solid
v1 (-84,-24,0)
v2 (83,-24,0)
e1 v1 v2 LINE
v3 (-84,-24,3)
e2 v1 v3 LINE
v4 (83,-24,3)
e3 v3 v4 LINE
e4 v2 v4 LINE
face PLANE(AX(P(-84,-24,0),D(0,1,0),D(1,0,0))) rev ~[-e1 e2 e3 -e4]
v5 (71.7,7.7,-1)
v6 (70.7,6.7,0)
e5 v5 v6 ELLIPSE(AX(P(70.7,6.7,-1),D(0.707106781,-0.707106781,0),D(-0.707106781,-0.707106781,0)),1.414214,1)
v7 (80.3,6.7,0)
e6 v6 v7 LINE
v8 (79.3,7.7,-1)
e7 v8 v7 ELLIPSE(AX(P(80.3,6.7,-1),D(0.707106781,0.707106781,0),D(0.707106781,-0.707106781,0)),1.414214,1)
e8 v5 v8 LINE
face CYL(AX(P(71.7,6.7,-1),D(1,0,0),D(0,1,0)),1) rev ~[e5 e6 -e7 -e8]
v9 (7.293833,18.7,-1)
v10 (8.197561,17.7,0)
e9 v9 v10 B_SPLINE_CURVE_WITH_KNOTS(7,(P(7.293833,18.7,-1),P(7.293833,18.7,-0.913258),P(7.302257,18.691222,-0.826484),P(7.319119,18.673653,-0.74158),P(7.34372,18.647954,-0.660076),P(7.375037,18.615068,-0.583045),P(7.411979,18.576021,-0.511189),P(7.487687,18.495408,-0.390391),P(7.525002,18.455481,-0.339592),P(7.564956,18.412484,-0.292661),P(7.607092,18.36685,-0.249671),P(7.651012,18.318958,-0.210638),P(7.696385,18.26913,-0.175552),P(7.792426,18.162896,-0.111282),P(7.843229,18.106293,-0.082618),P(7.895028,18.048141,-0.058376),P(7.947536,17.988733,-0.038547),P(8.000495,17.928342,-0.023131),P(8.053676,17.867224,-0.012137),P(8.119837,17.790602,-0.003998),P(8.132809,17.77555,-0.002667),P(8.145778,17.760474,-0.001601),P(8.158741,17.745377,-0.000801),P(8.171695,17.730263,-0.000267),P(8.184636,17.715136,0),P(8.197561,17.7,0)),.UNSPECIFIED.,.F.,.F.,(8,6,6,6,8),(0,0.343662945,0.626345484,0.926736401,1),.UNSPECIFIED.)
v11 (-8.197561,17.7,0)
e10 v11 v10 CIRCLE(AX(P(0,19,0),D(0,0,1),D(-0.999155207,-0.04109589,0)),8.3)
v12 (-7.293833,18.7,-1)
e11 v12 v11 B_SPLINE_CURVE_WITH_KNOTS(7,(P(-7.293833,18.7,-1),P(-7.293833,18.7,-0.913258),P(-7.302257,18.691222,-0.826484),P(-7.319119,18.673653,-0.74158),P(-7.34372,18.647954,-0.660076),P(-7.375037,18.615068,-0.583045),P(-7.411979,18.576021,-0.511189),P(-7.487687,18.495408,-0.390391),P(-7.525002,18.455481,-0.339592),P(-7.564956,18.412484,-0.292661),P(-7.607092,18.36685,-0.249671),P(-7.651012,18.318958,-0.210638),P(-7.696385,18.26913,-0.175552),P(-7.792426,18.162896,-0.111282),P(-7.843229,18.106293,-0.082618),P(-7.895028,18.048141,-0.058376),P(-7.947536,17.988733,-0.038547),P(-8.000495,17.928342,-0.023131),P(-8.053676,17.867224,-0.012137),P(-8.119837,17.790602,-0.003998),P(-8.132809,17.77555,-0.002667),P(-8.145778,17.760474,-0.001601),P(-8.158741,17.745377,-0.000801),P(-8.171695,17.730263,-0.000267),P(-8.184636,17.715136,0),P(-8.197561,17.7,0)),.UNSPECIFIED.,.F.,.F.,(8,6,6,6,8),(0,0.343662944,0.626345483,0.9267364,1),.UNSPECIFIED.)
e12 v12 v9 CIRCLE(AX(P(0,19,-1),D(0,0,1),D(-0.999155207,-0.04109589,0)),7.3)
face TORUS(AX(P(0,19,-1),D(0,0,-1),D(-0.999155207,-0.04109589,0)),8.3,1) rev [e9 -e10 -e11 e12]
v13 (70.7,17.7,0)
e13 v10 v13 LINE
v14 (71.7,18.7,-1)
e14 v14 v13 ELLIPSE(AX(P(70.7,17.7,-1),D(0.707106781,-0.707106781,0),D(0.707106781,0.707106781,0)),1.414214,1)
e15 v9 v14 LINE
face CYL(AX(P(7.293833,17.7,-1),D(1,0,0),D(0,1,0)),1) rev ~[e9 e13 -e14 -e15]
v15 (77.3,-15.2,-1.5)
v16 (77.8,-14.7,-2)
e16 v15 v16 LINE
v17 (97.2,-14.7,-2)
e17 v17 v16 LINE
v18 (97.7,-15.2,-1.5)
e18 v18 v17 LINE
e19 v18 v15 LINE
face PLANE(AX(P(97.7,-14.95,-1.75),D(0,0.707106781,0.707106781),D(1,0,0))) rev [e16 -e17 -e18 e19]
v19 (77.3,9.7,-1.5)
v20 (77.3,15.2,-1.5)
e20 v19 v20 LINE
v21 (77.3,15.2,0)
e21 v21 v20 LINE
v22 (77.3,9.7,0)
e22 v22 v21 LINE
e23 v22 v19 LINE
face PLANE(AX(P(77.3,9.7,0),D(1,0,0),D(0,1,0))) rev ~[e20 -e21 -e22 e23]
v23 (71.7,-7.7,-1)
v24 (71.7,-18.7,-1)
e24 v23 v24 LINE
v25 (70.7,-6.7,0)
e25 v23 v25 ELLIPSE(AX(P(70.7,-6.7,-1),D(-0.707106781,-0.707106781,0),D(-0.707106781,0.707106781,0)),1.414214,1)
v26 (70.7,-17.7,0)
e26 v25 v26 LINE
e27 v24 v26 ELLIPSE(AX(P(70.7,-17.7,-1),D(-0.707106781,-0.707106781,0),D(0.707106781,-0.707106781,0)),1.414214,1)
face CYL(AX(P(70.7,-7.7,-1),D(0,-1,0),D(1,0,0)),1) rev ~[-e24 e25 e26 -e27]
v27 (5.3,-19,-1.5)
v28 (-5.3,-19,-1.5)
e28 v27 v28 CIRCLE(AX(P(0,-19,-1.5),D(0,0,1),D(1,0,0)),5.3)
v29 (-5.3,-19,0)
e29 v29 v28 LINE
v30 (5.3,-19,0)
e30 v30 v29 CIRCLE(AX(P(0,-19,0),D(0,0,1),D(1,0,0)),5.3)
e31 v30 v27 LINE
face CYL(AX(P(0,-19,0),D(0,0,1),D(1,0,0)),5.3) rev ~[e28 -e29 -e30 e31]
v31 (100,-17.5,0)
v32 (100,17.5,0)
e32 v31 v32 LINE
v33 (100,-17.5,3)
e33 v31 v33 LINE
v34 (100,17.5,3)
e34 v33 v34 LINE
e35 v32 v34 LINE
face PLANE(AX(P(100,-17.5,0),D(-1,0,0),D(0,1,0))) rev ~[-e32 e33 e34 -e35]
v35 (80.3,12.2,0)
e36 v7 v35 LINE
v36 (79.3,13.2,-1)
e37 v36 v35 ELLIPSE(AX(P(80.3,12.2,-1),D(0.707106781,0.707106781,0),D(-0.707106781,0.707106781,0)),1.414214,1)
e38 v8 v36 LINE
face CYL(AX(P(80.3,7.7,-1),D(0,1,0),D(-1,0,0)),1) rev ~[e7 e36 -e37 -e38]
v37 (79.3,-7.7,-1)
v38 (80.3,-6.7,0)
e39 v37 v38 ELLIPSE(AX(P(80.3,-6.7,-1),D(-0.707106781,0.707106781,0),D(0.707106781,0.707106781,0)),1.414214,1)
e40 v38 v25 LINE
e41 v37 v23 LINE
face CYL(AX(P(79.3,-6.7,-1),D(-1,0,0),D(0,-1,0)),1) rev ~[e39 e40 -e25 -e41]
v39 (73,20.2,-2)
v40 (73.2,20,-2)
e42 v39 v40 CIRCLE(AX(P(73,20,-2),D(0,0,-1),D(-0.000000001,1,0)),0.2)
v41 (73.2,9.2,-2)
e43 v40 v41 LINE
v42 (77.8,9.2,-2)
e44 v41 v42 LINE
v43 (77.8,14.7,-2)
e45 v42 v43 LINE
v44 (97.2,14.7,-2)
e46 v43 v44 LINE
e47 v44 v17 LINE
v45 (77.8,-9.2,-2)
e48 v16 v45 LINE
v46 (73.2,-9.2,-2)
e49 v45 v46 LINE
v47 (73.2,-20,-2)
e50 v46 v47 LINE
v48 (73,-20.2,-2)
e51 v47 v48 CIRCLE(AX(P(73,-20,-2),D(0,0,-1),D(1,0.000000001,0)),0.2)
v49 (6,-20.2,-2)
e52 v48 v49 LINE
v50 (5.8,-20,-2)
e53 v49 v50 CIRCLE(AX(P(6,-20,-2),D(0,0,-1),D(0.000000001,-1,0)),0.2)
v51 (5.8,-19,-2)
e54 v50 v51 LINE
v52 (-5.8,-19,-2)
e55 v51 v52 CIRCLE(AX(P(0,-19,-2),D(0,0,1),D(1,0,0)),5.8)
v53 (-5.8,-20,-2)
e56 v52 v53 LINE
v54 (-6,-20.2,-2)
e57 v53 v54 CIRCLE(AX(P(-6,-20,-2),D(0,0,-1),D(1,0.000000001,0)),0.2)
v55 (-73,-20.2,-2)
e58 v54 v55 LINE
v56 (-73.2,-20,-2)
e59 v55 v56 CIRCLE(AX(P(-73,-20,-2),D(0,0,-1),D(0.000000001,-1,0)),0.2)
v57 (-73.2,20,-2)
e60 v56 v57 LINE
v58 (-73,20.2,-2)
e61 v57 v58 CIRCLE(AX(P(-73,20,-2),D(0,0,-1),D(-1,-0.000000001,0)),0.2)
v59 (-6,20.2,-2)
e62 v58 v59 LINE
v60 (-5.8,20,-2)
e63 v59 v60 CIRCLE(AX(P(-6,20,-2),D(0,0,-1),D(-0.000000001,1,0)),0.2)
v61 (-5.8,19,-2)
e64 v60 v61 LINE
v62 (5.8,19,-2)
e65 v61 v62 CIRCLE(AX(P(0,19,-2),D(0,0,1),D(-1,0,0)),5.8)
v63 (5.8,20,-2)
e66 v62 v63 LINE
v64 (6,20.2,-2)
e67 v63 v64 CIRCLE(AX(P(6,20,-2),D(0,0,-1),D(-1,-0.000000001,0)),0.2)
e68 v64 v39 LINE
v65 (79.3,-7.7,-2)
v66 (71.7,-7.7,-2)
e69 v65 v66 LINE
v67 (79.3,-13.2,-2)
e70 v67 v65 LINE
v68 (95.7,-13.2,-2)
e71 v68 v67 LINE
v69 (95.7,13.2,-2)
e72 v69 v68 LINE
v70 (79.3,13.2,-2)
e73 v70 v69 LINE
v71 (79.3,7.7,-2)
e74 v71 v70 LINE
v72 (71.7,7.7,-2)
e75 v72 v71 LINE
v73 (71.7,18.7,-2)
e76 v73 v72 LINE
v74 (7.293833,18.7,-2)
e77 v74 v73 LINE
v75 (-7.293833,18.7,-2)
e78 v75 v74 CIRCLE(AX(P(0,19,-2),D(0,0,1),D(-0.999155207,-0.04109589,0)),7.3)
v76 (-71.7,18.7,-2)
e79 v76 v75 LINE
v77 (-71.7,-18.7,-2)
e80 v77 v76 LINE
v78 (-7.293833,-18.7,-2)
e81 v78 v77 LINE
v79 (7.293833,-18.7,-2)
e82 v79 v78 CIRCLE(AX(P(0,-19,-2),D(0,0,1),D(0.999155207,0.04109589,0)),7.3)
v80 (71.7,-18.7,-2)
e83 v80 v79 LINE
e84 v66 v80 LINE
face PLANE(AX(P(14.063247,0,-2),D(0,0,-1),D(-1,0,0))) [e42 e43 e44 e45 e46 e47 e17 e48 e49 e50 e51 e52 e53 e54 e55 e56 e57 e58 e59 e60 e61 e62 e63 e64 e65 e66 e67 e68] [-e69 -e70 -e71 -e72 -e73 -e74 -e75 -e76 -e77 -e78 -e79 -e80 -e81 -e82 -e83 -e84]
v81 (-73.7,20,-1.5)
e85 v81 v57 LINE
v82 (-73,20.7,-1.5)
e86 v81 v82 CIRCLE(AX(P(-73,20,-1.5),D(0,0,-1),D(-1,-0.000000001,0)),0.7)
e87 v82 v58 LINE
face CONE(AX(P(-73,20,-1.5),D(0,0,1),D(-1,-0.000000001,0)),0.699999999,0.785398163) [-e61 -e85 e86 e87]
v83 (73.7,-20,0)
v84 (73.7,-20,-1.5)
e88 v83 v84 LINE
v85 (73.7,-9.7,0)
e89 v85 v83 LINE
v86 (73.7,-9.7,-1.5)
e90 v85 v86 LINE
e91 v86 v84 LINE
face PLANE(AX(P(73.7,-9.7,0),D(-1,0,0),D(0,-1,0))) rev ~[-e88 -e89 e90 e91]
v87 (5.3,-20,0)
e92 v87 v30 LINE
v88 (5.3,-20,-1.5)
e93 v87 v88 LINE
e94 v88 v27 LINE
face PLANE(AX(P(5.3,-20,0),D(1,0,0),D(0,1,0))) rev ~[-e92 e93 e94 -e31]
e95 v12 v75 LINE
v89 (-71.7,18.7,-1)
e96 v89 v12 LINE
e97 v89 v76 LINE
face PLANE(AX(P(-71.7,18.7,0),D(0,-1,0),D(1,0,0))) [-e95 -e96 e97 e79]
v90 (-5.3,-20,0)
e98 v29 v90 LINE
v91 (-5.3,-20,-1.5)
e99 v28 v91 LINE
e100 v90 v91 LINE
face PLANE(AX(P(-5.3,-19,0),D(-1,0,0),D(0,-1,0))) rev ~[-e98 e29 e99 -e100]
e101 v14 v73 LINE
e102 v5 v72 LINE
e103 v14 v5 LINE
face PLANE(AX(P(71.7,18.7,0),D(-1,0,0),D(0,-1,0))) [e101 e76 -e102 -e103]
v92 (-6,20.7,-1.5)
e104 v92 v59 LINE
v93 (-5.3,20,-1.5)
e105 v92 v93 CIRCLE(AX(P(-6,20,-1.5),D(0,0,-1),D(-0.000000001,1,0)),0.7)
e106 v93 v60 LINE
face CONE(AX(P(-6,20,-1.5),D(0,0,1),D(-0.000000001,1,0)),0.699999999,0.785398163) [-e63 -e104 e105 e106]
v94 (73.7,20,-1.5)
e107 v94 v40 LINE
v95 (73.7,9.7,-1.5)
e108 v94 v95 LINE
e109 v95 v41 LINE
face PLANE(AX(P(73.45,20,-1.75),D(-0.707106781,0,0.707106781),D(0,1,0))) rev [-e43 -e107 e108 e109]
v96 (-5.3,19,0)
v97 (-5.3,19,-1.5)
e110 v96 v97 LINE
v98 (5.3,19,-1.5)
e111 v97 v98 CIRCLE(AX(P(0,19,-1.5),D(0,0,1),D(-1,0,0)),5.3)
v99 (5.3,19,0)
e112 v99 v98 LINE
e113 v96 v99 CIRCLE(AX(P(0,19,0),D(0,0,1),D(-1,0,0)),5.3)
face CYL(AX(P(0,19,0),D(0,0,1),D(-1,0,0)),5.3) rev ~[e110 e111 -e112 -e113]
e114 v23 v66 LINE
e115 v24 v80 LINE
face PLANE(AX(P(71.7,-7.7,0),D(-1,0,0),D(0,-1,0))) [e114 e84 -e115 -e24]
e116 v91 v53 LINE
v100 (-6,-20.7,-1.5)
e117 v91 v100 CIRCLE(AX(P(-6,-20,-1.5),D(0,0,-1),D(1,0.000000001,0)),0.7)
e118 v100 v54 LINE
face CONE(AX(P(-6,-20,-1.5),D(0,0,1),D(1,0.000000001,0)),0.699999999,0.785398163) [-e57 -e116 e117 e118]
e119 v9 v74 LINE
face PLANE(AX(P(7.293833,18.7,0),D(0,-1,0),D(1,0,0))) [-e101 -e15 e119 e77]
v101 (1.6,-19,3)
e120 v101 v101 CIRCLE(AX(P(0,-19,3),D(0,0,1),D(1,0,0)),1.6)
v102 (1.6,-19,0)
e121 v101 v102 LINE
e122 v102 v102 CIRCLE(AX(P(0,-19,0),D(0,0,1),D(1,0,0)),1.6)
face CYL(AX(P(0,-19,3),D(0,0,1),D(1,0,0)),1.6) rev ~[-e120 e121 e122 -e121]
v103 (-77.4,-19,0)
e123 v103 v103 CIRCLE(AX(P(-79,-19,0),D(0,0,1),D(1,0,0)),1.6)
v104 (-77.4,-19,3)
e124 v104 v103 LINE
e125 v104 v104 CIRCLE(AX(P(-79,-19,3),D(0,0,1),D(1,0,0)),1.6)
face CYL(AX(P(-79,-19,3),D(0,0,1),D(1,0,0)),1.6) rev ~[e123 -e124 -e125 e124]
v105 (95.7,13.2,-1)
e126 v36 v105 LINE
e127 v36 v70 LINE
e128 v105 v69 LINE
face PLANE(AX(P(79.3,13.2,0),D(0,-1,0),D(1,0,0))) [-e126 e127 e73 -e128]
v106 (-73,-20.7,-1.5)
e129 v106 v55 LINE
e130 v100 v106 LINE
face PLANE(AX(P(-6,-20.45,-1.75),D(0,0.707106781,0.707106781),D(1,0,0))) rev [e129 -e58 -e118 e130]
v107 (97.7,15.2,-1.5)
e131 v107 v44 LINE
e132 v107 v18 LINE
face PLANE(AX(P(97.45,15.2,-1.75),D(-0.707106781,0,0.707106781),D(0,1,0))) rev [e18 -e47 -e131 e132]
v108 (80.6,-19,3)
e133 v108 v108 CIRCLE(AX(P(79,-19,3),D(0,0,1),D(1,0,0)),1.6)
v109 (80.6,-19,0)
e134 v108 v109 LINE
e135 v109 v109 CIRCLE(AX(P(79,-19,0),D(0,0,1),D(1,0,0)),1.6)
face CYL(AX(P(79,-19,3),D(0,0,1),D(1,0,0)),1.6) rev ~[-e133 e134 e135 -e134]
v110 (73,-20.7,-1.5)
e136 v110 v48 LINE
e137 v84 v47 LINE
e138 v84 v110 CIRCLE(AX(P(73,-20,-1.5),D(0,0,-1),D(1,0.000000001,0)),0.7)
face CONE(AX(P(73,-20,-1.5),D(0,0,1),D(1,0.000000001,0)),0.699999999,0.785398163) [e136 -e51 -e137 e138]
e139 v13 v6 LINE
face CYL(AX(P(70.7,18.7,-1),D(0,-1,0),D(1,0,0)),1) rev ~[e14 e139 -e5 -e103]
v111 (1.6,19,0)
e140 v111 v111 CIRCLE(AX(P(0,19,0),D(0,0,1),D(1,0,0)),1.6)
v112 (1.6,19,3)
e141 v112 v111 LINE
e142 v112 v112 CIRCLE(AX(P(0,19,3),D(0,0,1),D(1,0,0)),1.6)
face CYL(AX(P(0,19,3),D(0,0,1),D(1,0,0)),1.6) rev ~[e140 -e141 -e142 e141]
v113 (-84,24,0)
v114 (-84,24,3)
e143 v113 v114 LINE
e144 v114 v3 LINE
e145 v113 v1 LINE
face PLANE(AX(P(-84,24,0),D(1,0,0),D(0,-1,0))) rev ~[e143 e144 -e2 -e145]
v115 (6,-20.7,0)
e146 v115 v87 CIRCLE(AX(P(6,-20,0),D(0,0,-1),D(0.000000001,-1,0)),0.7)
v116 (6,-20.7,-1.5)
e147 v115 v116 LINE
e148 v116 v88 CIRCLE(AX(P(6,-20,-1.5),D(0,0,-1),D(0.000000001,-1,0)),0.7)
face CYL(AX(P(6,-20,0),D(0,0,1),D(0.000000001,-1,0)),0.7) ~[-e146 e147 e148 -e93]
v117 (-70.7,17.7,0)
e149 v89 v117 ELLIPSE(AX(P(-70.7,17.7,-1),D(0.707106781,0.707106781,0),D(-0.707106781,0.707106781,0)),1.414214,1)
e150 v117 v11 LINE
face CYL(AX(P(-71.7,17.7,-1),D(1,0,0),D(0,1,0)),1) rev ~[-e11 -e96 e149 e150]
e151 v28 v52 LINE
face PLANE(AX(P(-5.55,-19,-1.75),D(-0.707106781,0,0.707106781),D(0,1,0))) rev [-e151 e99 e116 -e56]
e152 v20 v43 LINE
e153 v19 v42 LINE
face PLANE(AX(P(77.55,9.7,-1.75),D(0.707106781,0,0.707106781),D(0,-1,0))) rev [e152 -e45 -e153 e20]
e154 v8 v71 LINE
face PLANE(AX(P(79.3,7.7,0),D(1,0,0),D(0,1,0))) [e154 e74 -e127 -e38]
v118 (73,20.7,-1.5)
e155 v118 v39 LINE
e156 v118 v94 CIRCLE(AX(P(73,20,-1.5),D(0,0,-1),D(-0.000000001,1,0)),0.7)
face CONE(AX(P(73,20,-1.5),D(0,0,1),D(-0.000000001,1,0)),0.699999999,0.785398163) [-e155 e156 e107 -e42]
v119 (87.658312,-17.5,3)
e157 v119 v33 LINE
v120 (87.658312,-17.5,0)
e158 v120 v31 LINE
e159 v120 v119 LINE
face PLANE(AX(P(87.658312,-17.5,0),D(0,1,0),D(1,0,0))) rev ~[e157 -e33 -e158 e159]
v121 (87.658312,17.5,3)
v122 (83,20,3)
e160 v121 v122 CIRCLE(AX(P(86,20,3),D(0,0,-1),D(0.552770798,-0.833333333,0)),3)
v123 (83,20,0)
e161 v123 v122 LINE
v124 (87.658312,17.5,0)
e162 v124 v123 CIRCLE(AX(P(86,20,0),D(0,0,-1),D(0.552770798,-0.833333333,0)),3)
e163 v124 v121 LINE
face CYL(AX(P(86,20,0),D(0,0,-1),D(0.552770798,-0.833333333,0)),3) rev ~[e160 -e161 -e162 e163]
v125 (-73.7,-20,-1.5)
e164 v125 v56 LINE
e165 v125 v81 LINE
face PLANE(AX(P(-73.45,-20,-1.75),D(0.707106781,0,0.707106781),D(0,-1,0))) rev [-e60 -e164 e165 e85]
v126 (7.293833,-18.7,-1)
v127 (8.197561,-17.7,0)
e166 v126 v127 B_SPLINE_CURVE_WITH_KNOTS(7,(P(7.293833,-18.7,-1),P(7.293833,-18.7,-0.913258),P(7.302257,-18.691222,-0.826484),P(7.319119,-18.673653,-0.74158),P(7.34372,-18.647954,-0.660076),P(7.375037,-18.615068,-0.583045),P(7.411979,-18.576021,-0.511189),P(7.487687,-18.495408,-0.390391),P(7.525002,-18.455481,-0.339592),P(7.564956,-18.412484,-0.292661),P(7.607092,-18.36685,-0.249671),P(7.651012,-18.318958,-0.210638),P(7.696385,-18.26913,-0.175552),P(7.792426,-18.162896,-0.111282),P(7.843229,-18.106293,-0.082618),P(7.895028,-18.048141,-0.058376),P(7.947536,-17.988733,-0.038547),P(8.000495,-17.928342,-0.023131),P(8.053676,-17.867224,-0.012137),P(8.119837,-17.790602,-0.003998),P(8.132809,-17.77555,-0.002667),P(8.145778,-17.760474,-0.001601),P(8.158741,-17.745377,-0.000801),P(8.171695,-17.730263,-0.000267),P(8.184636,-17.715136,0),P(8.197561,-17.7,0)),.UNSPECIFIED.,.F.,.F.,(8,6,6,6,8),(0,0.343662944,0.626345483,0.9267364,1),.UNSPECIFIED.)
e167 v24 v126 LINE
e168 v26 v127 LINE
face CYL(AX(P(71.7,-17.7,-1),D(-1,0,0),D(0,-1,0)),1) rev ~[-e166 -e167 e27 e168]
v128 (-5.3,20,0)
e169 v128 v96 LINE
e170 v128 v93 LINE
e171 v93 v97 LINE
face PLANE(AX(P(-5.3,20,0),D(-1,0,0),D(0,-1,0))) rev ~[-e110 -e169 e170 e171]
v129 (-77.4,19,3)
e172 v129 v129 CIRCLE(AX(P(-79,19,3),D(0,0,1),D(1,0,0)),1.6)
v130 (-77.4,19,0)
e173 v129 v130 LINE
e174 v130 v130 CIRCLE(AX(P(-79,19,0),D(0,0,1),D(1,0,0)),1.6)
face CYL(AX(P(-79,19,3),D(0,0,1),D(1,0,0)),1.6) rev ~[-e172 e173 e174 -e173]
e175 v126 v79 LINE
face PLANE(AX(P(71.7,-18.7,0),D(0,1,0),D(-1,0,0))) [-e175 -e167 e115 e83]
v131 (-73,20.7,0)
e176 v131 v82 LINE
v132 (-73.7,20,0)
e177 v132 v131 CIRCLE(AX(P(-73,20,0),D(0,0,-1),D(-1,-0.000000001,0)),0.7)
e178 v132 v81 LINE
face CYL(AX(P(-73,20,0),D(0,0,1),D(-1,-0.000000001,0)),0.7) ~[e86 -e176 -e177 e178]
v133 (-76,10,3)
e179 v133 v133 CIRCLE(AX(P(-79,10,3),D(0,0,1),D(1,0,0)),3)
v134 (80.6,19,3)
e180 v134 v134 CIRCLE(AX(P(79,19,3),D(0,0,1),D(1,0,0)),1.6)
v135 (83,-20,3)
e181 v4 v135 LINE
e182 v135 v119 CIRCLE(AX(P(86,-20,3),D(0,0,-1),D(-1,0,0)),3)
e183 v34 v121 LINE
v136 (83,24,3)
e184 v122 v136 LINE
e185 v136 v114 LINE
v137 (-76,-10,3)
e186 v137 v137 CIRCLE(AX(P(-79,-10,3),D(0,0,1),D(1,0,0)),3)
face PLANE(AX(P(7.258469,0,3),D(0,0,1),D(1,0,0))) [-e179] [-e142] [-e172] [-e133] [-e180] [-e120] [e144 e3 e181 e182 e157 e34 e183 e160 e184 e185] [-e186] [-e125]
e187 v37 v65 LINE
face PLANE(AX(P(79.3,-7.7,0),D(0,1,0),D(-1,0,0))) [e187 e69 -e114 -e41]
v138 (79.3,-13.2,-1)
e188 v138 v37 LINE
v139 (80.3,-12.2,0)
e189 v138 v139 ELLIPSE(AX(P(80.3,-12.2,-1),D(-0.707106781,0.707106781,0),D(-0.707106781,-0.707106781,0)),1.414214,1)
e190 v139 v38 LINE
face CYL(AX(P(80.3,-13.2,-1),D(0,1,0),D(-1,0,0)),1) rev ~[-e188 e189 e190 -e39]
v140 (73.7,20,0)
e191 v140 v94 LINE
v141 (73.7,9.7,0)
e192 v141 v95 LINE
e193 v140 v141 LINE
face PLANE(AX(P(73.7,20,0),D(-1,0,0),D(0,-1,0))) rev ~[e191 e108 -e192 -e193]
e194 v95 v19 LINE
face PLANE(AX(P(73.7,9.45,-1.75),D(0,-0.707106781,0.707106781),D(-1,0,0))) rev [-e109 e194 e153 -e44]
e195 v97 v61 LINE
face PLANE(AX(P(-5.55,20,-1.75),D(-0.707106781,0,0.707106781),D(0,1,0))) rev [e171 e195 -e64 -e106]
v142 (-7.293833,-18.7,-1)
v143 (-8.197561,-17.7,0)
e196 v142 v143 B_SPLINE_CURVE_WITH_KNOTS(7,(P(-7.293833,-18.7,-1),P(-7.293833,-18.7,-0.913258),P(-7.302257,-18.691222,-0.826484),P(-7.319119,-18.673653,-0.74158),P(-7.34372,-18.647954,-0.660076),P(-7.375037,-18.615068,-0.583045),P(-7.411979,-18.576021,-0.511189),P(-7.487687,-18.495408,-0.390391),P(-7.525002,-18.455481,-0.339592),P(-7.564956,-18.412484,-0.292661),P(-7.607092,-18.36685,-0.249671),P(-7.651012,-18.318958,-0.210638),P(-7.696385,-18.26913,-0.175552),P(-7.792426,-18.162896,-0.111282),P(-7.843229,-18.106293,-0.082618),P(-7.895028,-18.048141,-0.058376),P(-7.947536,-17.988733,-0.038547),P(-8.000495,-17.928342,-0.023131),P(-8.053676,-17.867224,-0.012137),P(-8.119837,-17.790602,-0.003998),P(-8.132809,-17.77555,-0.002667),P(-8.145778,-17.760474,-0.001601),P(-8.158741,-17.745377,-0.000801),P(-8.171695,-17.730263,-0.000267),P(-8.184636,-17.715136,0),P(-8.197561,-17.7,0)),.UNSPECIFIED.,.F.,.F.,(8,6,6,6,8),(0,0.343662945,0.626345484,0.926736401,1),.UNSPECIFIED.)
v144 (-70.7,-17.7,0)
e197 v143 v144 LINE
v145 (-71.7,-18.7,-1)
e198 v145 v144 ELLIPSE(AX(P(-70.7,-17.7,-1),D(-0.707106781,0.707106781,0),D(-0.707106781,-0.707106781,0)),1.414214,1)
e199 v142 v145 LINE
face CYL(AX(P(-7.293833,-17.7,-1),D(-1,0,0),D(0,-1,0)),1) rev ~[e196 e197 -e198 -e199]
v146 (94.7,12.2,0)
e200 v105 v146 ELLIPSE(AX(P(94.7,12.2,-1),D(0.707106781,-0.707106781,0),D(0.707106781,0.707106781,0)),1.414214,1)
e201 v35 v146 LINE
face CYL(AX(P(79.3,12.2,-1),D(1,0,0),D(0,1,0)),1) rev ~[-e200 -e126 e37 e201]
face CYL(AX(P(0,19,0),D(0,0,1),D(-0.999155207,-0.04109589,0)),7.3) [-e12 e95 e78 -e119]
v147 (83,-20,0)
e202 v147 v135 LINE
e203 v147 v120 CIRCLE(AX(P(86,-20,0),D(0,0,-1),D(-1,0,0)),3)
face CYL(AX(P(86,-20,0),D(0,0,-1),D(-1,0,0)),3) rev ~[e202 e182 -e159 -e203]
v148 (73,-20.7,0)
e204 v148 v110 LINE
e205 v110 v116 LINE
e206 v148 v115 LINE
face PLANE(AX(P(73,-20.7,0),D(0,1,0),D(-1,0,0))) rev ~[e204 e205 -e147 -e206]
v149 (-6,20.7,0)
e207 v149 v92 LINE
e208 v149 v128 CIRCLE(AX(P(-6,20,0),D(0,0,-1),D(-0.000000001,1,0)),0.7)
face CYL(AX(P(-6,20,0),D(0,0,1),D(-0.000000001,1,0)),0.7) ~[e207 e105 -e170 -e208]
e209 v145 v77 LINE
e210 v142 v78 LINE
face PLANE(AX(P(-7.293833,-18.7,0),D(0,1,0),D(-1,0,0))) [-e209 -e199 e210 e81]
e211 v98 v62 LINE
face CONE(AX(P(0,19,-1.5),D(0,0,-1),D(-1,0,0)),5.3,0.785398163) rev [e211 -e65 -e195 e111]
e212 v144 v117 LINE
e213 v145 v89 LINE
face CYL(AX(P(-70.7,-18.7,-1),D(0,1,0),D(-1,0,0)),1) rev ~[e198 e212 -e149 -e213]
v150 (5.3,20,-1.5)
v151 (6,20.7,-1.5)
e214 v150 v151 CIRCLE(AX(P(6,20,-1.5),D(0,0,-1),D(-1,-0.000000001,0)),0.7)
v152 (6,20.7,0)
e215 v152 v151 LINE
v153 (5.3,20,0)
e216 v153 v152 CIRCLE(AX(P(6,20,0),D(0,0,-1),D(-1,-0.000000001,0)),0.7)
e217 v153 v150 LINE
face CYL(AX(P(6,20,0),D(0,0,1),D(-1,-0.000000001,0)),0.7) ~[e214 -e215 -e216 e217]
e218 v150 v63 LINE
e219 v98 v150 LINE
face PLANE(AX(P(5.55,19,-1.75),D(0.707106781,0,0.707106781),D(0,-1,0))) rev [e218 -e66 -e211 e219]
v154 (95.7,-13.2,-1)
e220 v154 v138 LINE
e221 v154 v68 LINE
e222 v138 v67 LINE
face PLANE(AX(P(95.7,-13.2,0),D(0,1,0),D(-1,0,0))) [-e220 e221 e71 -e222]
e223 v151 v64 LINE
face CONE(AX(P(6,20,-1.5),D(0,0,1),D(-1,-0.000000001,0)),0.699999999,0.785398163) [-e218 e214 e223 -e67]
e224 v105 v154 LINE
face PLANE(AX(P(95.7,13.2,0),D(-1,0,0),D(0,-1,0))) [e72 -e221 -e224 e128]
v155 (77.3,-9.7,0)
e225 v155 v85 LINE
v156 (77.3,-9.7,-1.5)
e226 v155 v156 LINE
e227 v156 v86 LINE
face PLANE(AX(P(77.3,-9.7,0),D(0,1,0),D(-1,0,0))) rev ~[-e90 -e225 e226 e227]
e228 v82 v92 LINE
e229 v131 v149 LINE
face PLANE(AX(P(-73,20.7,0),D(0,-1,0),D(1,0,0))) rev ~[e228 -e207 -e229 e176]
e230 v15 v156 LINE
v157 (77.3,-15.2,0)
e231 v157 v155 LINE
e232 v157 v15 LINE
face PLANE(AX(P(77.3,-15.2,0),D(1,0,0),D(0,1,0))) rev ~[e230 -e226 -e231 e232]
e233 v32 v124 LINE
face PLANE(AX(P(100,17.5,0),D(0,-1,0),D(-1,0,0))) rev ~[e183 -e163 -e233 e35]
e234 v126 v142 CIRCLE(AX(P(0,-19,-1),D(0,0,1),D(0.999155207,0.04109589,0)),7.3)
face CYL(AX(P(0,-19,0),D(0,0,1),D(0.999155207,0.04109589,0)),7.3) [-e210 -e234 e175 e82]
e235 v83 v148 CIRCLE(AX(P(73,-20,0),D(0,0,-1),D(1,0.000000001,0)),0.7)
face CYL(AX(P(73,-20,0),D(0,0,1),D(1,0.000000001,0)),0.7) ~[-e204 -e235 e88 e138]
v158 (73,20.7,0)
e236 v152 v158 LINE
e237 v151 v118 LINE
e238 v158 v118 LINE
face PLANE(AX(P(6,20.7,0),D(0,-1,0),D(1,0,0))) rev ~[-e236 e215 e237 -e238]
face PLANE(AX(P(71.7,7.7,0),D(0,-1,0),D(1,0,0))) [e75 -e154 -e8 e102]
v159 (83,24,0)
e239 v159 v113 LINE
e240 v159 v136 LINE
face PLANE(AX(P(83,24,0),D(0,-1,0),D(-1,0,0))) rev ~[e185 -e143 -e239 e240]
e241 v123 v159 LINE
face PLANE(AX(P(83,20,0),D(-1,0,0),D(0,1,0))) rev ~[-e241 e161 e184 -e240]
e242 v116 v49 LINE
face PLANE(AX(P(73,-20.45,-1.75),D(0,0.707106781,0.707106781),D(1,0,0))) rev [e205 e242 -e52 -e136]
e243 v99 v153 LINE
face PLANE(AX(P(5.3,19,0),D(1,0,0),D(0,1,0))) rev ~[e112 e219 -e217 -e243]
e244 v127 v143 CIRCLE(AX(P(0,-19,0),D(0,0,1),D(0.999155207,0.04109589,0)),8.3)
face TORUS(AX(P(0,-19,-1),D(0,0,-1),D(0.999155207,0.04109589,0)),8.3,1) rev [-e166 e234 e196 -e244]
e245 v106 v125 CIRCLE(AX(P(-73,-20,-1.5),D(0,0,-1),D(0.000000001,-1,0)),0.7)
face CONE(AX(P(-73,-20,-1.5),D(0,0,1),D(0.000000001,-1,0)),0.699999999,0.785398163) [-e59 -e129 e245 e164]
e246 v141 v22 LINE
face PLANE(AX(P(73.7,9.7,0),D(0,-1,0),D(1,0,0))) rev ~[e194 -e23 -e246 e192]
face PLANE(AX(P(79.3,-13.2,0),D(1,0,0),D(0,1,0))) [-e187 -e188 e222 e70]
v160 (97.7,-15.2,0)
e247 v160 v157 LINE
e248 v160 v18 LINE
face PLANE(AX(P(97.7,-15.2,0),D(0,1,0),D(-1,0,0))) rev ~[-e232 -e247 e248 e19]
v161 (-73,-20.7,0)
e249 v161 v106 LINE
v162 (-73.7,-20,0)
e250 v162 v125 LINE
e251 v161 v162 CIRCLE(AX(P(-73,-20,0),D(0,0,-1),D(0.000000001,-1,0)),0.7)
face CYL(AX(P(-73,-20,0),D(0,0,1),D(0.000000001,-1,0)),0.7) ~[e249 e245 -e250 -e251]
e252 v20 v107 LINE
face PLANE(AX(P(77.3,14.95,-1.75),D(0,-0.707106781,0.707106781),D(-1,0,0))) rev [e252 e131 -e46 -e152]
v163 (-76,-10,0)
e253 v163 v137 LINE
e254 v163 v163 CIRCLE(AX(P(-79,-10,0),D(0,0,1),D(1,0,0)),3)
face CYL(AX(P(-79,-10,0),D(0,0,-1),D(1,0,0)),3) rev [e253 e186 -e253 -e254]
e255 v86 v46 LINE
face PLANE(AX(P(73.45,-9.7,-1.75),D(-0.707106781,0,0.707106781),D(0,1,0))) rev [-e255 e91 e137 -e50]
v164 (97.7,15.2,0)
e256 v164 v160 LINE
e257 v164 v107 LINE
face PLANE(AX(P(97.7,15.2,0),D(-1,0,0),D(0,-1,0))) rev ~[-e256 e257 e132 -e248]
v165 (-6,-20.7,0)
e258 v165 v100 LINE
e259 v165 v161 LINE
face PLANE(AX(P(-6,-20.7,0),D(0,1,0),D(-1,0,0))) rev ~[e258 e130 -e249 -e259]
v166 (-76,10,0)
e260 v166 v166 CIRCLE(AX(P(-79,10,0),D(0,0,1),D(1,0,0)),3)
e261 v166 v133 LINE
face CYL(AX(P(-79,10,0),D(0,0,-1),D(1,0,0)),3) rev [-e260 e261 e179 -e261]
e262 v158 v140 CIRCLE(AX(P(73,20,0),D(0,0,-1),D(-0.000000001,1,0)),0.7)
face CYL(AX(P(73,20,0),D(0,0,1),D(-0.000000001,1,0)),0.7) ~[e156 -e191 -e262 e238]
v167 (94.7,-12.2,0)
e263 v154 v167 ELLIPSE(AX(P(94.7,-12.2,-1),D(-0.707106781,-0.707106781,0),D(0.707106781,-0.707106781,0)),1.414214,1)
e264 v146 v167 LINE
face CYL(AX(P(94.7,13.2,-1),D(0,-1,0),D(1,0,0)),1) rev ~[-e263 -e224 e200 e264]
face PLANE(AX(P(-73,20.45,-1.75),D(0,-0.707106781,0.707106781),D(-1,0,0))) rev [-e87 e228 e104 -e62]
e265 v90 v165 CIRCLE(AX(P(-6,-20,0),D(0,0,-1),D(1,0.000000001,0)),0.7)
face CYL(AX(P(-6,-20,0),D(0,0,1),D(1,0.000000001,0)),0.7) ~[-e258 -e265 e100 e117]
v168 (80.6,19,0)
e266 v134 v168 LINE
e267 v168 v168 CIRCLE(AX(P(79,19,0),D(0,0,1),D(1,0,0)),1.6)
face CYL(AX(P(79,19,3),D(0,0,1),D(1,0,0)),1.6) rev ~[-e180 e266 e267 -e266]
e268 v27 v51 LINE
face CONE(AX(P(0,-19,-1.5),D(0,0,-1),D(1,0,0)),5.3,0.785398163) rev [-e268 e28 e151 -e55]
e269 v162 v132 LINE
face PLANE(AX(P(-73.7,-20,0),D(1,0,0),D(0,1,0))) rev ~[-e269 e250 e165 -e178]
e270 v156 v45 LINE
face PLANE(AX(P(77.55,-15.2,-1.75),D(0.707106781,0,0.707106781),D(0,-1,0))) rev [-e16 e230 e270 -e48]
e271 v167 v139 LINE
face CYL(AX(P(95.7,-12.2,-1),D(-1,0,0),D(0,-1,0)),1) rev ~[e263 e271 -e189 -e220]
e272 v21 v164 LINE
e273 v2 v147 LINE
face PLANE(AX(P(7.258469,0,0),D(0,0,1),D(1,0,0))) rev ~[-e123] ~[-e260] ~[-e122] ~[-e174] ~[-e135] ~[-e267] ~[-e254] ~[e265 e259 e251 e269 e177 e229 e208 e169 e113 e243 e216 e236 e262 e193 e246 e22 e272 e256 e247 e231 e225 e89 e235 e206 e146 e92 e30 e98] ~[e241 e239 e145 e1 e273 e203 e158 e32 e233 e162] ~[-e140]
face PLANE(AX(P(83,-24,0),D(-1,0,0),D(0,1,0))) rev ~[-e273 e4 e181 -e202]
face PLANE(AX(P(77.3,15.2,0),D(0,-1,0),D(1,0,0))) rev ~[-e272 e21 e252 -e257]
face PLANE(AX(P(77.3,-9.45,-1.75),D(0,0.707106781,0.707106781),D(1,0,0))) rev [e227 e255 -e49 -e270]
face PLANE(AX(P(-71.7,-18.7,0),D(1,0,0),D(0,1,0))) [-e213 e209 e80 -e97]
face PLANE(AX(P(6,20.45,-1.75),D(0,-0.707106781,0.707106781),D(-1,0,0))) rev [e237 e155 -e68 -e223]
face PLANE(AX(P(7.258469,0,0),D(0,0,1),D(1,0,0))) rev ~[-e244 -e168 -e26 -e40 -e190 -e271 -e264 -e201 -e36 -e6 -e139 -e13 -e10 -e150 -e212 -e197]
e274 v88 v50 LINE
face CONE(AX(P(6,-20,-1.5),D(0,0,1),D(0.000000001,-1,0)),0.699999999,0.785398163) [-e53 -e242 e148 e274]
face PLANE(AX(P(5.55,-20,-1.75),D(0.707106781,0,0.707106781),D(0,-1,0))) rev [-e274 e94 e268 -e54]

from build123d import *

# Parameters (mm, degrees)
SKETCH1_R           = 3
BOSS_EXTRUDE1_DEPTH = 3
BOSS_EXTRUDE2_DEPTH = 2
CHAMFER1_SIZE       = 0.5
FILLET1_R           = 1
SKETCH3_R           = 1.6
CUT_EXTRUDE1_DEPTH  = 103.961157725


with BuildPart() as part:
    # Sketch1 → Boss-Extrude1 (new body)
    with BuildSketch(Plane.XY):
        with BuildLine():
            Line((87.658312395, -17.5), (100, -17.5))
            Line((100, -17.5), (100, 17.5))
            Line((100, 17.5), (87.658312395, 17.5))
            ThreePointArc((87.658312395, 17.5), (84.581362835, 17.356617963), (83, 20))
            Line((83, 20), (83, 24))
            Line((83, 24), (-84, 24))
            Line((-84, 24), (-84, -24))
            Line((-84, -24), (83, -24))
            Line((83, -24), (83, -20))
            ThreePointArc((83, -20), (84.581362835, -17.356617963), (87.658312395, -17.5))
        make_face()
        with Locations((-79, -10)):
            Circle(SKETCH1_R, mode=Mode.SUBTRACT)
        with Locations((-79, 10)):
            Circle(SKETCH1_R, mode=Mode.SUBTRACT)
    extrude(amount=BOSS_EXTRUDE1_DEPTH)

    # Sketch2 → Boss-Extrude2 (add)
    with BuildSketch(Plane(origin=(0, 0, 0), x_dir=(-1, 0, 0), z_dir=(0, 0, -1))):
        with BuildLine():
            Line((-73.7, 20), (-73.7, 9.7))
            Line((-73.7, 9.7), (-77.3, 9.7))
            Line((-77.3, 9.7), (-77.3, 15.2))
            Line((-77.3, 15.2), (-97.7, 15.2))
            Line((-97.7, 15.2), (-97.7, -15.2))
            Line((-97.7, -15.2), (-77.3, -15.2))
            Line((-77.3, -15.2), (-77.3, -9.7))
            Line((-77.3, -9.7), (-73.7, -9.7))
            Line((-73.7, -9.7), (-73.7, -20))
            ThreePointArc((-73.7, -20), (-73.494974747, -20.494974747), (-73, -20.7))
            Line((-73, -20.7), (-6, -20.7))
            ThreePointArc((-6, -20.7), (-5.505025253, -20.494974747), (-5.3, -20))
            Line((-5.3, -20), (-5.3, -19))
            ThreePointArc((-5.3, -19), (0, -13.7), (5.3, -19))
            Line((5.3, -19), (5.3, -20))
            ThreePointArc((5.3, -20), (5.505025253, -20.494974747), (6, -20.7))
            Line((6, -20.7), (73, -20.7))
            ThreePointArc((73, -20.7), (73.494974747, -20.494974747), (73.7, -20))
            Line((73.7, -20), (73.7, 20))
            ThreePointArc((73.7, 20), (73.494974747, 20.494974747), (73, 20.7))
            Line((73, 20.7), (6, 20.7))
            ThreePointArc((6, 20.7), (5.505025253, 20.494974747), (5.3, 20))
            Line((5.3, 20), (5.3, 19))
            ThreePointArc((5.3, 19), (0, 13.7), (-5.3, 19))
            Line((-5.3, 19), (-5.3, 20))
            ThreePointArc((-5.3, 20), (-5.505025253, 20.494974747), (-6, 20.7))
            Line((-6, 20.7), (-73, 20.7))
            ThreePointArc((-73, 20.7), (-73.494974747, 20.494974747), (-73.7, 20))
        make_face()
        with BuildLine():
            Line((-7.293833012, 18.7), (-71.7, 18.7))
            Line((-71.7, 18.7), (-71.7, 7.7))
            Line((-71.7, 7.7), (-79.3, 7.7))
            Line((-79.3, 7.7), (-79.3, 13.2))
            Line((-79.3, 13.2), (-95.7, 13.2))
            Line((-95.7, 13.2), (-95.7, -13.2))
            Line((-95.7, -13.2), (-79.3, -13.2))
            Line((-79.3, -13.2), (-79.3, -7.7))
            Line((-79.3, -7.7), (-71.7, -7.7))
            Line((-71.7, -7.7), (-71.7, -18.7))
            Line((-71.7, -18.7), (-7.293833012, -18.7))
            ThreePointArc((-7.293833012, -18.7), (0, -11.7), (7.293833012, -18.7))
            Line((7.293833012, -18.7), (71.7, -18.7))
            Line((71.7, -18.7), (71.7, 18.7))
            Line((71.7, 18.7), (7.293833012, 18.7))
            ThreePointArc((7.293833012, 18.7), (0, 11.7), (-7.293833012, 18.7))
        make_face(mode=Mode.SUBTRACT)
    extrude(amount=BOSS_EXTRUDE2_DEPTH)

    # Chamfer1
    chamfer1_edges = [part.edges().sort_by_distance(p)[0] for p in [
        (73.494974747, 20.494974747, -2),
        (73.7, 14.85, -2),
        (75.5, 9.7, -2),
        (77.3, 12.45, -2),
        (87.5, 15.2, -2),
        (97.7, 0, -2),
        (87.5, -15.2, -2),
        (77.3, -12.45, -2),
        (75.5, -9.7, -2),
        (73.7, -14.85, -2),
        (73.494974747, -20.494974747, -2),
        (39.5, -20.7, -2),
        (5.505025253, -20.494974747, -2),
        (5.3, -19.5, -2),
        (0, -13.7, -2),
        (-5.3, -19.5, -2),
        (-5.505025253, -20.494974747, -2),
        (-39.5, -20.7, -2),
        (-73.494974747, -20.494974747, -2),
        (-73.7, 0, -2),
        (-73.494974747, 20.494974747, -2),
        (-39.5, 20.7, -2),
        (-5.505025253, 20.494974747, -2),
        (-5.3, 19.5, -2),
        (0, 13.7, -2),
        (5.3, 19.5, -2),
        (5.505025253, 20.494974747, -2),
        (39.5, 20.7, -2),
    ]]
    chamfer(chamfer1_edges, length=CHAMFER1_SIZE)

    # Fillet1
    fillet1_edges = [part.edges().sort_by_distance(p)[0] for p in [
        (0, 11.7, 0),
        (39.496916506, 18.7, 0),
        (71.7, 13.2, 0),
        (75.5, 7.7, 0),
        (79.3, 10.45, 0),
        (87.5, 13.2, 0),
        (95.7, 0, 0),
        (87.5, -13.2, 0),
        (79.3, -10.45, 0),
        (75.5, -7.7, 0),
        (71.7, -13.2, 0),
        (39.496916506, -18.7, 0),
        (0, -11.7, 0),
        (-39.496916506, -18.7, 0),
        (-71.7, 0, 0),
        (-39.496916506, 18.7, 0),
    ]]
    fillet(fillet1_edges, radius=FILLET1_R)

    # Sketch3 → Cut-Extrude1 (cut, through all)
    with BuildSketch(Plane.XY.offset(3)):
        with Locations((-79, 19)):
            Circle(SKETCH3_R)
        with Locations((-79, -19)):
            Circle(SKETCH3_R)
        with Locations((79, 19)):
            Circle(SKETCH3_R)
        with Locations((79, -19)):
            Circle(SKETCH3_R)
        with Locations((0, 19)):
            Circle(SKETCH3_R)
        with Locations((0, -19)):
            Circle(SKETCH3_R)
    extrude(amount=-CUT_EXTRUDE1_DEPTH, mode=Mode.SUBTRACT)


solid = part.part
